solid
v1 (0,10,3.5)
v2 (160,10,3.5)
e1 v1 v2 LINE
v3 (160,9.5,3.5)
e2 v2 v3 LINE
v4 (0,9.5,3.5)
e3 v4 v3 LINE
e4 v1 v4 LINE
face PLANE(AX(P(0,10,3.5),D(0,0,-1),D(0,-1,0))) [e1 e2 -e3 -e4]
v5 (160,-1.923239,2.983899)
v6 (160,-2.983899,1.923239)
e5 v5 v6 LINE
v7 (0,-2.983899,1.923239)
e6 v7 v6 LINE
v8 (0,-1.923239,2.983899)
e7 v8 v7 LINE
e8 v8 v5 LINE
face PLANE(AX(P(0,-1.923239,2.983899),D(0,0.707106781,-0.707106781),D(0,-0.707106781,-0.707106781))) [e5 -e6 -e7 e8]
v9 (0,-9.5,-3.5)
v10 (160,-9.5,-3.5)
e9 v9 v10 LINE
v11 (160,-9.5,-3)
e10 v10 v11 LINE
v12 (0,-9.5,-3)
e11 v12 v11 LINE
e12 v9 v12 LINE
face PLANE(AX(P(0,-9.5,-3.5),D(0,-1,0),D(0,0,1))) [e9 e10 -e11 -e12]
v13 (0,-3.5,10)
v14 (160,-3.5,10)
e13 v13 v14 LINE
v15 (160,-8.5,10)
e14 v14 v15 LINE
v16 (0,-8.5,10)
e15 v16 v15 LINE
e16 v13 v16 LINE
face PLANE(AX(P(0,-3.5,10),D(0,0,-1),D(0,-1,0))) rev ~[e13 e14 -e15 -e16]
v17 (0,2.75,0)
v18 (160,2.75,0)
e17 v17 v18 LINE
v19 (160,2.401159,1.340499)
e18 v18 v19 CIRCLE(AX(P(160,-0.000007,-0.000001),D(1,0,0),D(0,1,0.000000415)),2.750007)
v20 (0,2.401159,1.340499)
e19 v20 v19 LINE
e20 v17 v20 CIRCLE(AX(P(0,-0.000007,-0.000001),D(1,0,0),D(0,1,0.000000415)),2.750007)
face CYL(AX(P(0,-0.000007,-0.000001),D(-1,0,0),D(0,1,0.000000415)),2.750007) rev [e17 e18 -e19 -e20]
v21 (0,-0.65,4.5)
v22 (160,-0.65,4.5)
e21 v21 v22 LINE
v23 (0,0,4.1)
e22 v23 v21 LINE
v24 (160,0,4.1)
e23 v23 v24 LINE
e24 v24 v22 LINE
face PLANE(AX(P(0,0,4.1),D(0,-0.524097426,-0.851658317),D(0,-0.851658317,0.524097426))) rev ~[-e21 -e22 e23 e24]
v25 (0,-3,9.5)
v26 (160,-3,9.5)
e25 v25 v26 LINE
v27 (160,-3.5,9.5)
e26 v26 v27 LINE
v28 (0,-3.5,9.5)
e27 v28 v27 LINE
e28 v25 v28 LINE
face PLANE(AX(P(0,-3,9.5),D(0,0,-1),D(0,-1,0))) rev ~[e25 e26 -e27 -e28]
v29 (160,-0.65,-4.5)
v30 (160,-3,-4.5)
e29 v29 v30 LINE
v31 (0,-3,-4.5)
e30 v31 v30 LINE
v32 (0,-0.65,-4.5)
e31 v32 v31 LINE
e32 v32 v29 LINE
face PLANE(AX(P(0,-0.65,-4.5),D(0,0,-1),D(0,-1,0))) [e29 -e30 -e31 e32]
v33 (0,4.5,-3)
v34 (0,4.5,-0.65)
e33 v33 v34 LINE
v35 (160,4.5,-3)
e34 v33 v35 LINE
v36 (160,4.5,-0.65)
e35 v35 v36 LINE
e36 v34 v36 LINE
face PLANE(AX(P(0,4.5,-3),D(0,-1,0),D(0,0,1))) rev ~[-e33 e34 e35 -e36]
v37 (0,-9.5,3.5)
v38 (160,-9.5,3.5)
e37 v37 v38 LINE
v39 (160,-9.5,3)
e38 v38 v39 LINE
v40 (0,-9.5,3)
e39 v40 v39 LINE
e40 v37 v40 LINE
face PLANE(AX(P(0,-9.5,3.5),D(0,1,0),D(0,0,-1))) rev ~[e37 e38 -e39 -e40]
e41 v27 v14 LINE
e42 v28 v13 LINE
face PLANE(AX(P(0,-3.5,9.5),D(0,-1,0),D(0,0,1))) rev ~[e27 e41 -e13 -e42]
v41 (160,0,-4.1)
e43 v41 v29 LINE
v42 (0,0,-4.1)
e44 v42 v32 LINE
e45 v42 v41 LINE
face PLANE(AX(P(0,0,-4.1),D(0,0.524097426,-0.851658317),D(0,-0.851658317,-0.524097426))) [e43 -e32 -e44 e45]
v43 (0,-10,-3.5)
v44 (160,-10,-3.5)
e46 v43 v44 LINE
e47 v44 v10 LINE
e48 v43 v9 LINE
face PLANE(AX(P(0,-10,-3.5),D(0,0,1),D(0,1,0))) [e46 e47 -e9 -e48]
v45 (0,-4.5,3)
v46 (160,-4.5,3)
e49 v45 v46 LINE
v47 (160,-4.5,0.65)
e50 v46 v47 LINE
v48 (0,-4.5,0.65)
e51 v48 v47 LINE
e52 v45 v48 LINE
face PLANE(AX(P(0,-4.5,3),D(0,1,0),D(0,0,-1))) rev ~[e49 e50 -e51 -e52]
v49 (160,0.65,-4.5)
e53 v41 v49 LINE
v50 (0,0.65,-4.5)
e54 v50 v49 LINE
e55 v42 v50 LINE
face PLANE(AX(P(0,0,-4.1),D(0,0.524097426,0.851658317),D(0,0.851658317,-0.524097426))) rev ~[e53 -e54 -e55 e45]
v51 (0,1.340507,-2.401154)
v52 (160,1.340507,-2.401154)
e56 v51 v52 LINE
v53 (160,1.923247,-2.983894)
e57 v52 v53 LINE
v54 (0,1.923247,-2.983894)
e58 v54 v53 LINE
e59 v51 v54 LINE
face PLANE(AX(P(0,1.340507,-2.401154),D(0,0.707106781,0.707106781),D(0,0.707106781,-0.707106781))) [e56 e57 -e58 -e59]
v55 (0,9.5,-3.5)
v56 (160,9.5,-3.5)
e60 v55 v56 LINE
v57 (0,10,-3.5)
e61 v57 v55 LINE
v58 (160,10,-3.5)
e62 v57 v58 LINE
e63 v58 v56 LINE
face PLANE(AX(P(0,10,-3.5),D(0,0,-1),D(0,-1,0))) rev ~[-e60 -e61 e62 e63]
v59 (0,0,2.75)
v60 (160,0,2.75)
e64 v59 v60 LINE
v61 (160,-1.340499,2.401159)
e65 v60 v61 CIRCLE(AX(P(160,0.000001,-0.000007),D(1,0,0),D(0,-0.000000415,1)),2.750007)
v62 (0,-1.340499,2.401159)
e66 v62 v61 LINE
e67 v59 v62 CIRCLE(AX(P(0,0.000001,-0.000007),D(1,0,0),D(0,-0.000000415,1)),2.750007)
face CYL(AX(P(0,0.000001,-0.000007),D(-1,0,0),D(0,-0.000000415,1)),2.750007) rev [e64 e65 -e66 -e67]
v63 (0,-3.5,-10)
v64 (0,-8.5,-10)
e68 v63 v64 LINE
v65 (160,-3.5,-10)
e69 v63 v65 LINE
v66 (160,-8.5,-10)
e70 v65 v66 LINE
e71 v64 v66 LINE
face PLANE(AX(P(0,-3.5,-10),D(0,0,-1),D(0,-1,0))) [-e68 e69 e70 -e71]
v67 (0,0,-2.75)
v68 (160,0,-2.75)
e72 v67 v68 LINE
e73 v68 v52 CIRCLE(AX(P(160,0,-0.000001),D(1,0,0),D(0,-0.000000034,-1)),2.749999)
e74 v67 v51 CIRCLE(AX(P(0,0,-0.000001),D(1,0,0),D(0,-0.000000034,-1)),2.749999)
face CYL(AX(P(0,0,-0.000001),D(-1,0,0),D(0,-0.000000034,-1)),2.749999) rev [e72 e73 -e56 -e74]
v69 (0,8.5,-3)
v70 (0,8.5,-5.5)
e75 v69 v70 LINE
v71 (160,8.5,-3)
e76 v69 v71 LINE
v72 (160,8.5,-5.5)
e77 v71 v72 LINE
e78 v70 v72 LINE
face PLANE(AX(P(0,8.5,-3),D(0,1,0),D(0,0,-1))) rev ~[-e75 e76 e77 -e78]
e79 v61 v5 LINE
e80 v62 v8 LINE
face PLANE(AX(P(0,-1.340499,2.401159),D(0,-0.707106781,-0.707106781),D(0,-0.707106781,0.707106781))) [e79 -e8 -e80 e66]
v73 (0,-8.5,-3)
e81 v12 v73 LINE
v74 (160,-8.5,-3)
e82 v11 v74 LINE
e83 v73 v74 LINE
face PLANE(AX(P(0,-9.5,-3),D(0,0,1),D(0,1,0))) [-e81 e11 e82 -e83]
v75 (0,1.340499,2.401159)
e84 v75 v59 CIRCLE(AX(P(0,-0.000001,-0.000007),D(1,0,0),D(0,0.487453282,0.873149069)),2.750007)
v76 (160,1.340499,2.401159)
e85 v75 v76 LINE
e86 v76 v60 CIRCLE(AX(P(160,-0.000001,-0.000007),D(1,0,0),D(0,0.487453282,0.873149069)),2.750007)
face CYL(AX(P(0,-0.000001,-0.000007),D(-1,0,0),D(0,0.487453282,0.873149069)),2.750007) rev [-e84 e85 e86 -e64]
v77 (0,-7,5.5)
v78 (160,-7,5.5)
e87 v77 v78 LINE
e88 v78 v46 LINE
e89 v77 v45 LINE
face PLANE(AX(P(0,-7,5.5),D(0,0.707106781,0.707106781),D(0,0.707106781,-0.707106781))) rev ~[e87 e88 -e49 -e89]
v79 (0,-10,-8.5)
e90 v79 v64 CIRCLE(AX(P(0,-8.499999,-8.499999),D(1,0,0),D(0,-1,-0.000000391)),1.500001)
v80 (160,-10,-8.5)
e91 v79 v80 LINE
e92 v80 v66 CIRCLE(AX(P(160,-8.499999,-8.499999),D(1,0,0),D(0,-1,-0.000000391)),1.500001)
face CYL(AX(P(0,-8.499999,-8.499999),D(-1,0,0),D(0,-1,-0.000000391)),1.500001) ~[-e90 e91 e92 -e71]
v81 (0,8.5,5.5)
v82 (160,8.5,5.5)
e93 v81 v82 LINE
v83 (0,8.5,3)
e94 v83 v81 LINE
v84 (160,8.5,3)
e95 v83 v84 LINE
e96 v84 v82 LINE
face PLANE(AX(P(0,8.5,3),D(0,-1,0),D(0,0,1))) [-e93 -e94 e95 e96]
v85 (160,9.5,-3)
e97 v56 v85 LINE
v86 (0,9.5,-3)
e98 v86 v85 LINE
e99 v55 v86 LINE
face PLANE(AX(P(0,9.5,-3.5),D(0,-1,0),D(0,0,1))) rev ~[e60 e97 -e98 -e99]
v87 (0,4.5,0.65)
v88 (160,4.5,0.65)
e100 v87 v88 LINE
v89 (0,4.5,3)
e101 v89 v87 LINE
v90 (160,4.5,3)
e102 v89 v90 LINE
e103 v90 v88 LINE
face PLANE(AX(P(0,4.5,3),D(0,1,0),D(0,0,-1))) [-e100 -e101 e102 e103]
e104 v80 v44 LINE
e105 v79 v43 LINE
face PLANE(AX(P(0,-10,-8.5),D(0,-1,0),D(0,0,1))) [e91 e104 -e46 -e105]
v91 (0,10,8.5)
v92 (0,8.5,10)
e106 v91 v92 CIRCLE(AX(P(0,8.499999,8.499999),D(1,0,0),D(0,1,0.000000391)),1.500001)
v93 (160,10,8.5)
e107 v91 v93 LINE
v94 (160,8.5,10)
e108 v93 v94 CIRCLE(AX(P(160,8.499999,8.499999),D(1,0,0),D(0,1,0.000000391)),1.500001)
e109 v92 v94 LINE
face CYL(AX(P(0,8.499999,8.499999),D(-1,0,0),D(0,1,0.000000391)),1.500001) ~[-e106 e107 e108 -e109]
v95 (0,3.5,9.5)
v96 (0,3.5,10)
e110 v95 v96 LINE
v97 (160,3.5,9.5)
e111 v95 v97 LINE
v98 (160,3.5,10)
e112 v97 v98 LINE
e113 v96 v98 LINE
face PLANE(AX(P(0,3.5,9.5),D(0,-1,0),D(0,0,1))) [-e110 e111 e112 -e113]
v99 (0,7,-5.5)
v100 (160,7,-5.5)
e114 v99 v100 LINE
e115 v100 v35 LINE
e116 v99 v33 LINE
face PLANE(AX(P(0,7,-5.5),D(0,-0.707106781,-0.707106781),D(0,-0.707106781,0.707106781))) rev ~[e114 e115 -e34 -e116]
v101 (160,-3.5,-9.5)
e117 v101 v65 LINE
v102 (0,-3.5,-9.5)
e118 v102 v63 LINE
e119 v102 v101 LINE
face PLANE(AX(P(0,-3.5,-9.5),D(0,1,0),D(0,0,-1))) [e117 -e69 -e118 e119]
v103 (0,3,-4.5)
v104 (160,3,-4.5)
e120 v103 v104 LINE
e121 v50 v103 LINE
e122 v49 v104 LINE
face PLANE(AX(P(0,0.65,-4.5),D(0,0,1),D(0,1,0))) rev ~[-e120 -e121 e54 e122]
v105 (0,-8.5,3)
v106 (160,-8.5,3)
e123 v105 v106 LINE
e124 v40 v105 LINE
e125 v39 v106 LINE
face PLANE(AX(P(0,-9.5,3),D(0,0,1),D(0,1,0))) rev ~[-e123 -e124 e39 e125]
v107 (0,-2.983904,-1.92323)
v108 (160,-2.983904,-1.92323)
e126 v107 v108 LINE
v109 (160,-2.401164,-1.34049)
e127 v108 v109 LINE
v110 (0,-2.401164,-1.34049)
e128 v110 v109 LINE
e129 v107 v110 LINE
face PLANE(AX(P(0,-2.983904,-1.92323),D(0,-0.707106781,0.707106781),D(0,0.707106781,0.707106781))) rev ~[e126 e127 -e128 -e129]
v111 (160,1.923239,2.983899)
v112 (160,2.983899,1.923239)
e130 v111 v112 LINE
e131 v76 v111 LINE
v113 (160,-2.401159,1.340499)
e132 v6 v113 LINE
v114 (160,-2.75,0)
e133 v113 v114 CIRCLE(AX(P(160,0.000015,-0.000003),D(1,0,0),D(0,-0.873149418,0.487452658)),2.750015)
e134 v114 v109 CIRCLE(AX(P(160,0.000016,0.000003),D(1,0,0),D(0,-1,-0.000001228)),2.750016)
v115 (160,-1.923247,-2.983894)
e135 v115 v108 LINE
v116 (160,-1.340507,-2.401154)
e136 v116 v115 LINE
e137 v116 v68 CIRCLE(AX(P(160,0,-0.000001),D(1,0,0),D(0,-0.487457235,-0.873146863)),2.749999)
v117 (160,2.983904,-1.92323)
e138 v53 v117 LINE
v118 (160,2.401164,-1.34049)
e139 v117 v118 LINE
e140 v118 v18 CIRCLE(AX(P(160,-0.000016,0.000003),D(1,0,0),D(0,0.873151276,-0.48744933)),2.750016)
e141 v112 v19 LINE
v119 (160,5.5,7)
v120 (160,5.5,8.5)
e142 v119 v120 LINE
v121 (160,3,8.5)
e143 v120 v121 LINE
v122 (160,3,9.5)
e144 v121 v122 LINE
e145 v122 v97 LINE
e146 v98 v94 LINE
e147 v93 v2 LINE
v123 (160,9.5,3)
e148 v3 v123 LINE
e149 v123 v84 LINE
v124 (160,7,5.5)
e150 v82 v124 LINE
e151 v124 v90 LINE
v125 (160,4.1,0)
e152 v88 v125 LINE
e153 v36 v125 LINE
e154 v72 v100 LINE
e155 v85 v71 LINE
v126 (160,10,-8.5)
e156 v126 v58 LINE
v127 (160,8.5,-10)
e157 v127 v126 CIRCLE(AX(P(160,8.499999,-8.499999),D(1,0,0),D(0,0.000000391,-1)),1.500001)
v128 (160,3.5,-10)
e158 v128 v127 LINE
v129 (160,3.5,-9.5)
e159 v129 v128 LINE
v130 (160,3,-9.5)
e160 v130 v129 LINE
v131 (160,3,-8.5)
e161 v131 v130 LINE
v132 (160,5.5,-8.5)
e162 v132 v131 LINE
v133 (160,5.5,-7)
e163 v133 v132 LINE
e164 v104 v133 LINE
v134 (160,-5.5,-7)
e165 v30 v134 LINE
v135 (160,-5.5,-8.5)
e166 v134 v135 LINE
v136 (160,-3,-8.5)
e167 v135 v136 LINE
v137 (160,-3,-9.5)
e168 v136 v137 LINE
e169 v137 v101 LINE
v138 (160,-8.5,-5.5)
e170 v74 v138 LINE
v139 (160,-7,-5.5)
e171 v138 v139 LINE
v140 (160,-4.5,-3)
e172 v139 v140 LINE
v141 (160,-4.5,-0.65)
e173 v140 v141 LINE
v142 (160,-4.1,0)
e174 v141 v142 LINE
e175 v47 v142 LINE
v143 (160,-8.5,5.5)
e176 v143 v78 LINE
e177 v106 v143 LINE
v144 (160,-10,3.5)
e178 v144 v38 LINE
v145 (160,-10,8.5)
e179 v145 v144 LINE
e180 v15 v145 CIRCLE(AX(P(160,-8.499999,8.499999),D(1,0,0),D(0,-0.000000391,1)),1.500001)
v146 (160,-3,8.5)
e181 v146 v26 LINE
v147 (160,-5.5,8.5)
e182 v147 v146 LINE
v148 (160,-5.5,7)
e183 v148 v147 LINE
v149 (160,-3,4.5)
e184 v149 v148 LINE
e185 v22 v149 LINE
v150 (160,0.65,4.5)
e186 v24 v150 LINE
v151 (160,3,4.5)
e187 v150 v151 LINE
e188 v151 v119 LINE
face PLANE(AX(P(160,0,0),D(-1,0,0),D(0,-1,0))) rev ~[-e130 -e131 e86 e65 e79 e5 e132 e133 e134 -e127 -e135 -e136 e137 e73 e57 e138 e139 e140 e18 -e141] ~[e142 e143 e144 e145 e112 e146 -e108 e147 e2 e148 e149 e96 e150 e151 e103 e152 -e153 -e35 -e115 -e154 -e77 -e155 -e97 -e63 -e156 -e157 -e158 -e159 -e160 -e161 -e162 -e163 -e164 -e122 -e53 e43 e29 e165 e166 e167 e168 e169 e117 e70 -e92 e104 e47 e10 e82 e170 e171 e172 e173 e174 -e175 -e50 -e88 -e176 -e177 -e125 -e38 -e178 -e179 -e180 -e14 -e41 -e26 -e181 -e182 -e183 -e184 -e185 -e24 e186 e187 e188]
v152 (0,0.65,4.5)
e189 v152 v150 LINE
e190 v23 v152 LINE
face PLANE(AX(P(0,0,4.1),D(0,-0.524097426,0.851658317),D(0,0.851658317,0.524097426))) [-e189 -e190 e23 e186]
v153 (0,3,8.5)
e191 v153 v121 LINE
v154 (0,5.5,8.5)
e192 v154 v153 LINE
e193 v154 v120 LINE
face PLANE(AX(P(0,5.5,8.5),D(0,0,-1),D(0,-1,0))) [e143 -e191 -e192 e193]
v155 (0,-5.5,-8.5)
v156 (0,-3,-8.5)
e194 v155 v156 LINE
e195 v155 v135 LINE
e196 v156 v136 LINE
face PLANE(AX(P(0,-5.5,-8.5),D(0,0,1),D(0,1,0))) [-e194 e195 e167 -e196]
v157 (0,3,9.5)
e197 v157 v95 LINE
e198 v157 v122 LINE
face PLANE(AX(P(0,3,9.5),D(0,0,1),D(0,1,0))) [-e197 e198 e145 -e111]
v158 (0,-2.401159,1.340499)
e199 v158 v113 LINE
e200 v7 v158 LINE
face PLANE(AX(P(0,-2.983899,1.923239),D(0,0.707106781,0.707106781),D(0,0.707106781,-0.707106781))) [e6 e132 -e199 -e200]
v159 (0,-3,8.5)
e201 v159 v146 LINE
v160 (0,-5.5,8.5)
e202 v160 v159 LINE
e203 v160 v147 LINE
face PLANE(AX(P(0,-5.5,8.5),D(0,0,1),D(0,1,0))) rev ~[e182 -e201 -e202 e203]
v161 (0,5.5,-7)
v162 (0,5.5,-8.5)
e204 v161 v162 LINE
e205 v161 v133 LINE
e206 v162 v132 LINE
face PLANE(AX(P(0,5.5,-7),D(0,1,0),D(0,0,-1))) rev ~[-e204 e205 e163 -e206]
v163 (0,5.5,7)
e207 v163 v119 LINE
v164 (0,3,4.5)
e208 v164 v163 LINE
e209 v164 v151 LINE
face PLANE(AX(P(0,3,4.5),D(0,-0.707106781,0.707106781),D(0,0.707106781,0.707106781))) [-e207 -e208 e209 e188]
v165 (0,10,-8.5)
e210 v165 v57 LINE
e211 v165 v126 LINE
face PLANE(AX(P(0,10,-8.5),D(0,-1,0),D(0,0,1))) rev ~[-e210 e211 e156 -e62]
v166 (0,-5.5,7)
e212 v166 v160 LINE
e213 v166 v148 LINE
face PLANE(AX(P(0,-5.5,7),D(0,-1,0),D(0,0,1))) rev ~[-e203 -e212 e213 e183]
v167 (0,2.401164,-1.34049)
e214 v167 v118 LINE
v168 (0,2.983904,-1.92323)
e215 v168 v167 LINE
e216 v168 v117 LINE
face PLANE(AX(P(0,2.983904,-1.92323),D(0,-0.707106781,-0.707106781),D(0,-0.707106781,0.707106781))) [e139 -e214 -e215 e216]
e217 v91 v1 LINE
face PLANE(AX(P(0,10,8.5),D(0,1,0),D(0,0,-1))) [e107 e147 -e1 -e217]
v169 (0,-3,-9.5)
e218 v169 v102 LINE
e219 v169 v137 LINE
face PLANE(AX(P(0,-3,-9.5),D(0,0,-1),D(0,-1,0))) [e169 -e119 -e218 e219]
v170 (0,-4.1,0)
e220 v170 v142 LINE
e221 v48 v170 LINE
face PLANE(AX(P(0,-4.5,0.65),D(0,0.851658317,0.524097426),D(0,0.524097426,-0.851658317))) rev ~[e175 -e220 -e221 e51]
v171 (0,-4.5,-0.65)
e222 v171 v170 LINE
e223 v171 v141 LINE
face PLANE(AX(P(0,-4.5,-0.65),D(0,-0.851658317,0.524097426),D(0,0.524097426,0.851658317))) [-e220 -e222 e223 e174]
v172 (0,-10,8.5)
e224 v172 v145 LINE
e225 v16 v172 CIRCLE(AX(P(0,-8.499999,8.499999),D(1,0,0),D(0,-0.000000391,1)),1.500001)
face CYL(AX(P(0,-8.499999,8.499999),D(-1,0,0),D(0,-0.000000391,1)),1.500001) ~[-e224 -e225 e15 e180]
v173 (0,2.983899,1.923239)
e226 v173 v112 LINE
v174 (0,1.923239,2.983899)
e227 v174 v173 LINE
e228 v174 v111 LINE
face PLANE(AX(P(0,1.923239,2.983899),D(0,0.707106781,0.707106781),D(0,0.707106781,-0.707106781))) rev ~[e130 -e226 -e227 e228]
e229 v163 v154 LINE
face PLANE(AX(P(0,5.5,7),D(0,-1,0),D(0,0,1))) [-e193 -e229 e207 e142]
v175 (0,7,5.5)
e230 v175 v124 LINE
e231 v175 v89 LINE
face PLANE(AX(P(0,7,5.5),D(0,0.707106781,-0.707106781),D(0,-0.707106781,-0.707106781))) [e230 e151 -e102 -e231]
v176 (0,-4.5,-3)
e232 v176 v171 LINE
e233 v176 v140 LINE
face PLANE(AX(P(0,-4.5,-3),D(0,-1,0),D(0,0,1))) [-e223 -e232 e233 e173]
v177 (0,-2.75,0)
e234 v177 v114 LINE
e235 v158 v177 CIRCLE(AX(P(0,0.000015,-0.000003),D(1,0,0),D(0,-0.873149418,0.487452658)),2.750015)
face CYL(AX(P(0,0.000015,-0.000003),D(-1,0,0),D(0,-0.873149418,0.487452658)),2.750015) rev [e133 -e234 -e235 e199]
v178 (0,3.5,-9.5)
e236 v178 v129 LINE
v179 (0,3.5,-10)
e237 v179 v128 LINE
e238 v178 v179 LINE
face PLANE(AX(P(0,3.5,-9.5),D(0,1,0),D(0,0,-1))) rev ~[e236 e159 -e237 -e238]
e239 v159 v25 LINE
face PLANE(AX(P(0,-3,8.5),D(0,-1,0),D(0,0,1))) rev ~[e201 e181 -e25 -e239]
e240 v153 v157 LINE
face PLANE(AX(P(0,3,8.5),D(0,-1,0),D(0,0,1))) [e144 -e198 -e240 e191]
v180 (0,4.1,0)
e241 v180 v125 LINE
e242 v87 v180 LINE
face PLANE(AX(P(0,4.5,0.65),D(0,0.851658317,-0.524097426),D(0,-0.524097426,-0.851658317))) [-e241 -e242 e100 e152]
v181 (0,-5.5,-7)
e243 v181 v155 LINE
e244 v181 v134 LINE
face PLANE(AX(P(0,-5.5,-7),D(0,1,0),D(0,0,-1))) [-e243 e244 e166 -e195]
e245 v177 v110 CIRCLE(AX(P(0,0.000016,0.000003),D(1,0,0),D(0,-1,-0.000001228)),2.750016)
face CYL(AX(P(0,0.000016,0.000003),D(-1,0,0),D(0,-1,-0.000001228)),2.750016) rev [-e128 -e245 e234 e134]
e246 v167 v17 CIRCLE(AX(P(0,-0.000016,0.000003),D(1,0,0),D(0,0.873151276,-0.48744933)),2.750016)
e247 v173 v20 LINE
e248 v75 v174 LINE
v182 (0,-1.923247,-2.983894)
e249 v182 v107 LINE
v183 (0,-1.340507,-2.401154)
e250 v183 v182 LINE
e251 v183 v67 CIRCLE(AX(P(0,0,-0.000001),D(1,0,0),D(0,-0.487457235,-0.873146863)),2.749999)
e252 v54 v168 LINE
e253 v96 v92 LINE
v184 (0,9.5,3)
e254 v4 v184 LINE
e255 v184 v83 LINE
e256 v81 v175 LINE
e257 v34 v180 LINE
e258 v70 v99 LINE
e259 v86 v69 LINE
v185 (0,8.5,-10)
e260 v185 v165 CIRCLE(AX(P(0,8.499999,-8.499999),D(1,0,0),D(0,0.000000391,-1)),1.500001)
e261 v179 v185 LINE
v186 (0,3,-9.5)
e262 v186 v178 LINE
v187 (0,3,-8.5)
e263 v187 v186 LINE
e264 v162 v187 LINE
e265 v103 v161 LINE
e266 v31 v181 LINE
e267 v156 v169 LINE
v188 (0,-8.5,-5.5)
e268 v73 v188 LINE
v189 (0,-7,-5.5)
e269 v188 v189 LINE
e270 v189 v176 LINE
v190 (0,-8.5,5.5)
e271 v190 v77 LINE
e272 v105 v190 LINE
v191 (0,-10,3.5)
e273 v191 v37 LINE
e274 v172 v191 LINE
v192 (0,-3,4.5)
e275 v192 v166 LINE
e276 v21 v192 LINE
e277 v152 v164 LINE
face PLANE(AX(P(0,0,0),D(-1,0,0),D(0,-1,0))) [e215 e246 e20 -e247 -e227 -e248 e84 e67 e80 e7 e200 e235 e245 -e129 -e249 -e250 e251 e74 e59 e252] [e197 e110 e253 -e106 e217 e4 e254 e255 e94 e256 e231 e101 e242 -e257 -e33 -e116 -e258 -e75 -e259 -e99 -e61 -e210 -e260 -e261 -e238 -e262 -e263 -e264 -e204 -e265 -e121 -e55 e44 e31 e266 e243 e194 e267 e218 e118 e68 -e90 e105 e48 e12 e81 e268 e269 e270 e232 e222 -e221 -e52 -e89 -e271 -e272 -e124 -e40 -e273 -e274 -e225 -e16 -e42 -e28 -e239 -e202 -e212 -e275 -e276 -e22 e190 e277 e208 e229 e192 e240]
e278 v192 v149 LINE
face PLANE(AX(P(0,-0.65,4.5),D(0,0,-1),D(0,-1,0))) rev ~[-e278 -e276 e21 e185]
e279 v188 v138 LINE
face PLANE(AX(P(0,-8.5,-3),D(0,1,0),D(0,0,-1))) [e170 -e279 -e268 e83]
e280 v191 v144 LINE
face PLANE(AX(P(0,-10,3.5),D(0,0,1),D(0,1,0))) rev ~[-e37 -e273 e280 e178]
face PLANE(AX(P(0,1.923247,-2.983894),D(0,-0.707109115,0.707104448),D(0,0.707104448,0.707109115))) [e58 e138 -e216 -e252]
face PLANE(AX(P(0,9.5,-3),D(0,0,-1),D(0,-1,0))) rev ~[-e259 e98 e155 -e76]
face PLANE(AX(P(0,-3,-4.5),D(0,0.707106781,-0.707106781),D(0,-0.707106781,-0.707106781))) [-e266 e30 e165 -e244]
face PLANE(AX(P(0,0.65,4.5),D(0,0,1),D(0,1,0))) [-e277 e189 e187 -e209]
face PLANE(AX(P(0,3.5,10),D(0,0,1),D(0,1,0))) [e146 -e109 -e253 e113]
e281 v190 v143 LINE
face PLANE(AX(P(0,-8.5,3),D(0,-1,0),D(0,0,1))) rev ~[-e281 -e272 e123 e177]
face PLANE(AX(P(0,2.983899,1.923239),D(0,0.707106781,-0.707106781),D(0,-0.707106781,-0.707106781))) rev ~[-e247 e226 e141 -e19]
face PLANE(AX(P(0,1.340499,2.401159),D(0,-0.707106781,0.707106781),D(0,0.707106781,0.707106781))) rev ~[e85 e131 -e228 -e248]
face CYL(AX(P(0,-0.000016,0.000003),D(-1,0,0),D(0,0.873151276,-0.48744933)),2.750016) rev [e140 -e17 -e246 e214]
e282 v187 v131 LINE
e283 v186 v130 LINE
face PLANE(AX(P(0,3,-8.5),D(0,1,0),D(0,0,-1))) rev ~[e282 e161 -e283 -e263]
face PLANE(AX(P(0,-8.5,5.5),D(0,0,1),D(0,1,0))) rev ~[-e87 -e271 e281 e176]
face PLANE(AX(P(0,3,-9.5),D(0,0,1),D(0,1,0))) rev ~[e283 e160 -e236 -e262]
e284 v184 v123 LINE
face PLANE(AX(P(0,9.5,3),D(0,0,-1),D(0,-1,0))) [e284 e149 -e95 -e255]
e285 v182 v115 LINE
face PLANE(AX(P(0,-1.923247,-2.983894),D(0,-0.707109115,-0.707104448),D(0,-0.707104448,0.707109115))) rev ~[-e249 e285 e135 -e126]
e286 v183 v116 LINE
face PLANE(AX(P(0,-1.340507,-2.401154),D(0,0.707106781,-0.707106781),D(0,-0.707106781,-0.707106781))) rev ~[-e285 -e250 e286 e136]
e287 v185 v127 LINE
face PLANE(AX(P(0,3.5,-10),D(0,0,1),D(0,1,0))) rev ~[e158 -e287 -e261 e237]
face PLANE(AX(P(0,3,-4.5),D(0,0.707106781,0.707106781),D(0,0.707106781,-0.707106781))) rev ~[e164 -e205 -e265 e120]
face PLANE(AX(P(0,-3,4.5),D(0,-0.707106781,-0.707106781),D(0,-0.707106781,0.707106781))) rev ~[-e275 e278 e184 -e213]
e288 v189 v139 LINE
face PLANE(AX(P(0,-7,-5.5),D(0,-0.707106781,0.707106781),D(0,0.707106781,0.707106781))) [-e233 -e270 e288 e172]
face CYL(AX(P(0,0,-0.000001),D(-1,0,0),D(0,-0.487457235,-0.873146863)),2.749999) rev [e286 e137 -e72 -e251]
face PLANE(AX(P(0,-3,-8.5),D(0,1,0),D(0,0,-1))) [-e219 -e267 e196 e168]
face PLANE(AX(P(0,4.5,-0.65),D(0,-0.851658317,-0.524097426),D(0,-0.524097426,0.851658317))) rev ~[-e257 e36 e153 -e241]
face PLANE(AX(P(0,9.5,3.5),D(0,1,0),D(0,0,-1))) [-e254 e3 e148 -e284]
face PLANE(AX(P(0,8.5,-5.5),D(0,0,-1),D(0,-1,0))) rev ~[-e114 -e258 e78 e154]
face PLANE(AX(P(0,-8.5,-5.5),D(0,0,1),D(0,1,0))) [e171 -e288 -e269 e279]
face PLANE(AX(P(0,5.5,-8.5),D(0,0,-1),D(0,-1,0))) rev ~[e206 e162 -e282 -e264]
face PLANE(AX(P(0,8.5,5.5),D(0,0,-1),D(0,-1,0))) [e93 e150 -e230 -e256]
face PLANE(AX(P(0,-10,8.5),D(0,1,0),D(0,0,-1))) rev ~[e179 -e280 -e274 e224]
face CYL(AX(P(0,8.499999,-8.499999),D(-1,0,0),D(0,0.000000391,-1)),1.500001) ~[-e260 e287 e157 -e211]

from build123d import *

# Parameters (mm, degrees)
PAD_DEPTH = 160


with BuildPart() as part:
    # Sketch → Pad (new body)
    with BuildSketch(Plane.YZ):
        with BuildLine():
            Line((0, 4.1), (0.65, 4.5))
            Line((0.65, 4.5), (3, 4.5))
            Line((3, 4.5), (5.5, 7))
            Line((5.5, 7), (5.5, 8.5))
            Line((5.5, 8.5), (3, 8.5))
            Line((3, 8.5), (3, 9.5))
            Line((3, 9.5), (3.5, 9.5))
            Line((3.5, 9.5), (3.5, 10))
            Line((3.5, 10), (8.5, 10))
            ThreePointArc((10, 8.5), (9.56066, 9.56066), (8.5, 10))
            Line((10, 8.5), (10, 3.5))
            Line((10, 3.5), (9.5, 3.5))
            Line((9.5, 3.5), (9.5, 3))
            Line((9.5, 3), (8.5, 3))
            Line((8.5, 3), (8.5, 5.5))
            Line((8.5, 5.5), (7, 5.5))
            Line((7, 5.5), (4.5, 3))
            Line((4.5, 3), (4.5, 0.65))
            Line((4.5, 0.65), (4.1, 0))
            Line((4.5, -0.65), (4.1, 0))
            Line((4.5, -3), (4.5, -0.65))
            Line((7, -5.5), (4.5, -3))
            Line((8.5, -5.5), (7, -5.5))
            Line((8.5, -3), (8.5, -5.5))
            Line((9.5, -3), (8.5, -3))
            Line((9.5, -3.5), (9.5, -3))
            Line((10, -3.5), (9.5, -3.5))
            Line((10, -8.5), (10, -3.5))
            ThreePointArc((8.5, -10), (9.56066, -9.56066), (10, -8.5))
            Line((3.5, -10), (8.5, -10))
            Line((3.5, -9.5), (3.5, -10))
            Line((3, -9.5), (3.5, -9.5))
            Line((3, -8.5), (3, -9.5))
            Line((5.5, -8.5), (3, -8.5))
            Line((5.5, -7), (5.5, -8.5))
            Line((3, -4.5), (5.5, -7))
            Line((0.65, -4.5), (3, -4.5))
            Line((0, -4.1), (0.65, -4.5))
            Line((0, -4.1), (-0.65, -4.5))
            Line((-0.65, -4.5), (-3, -4.5))
            Line((-3, -4.5), (-5.5, -7))
            Line((-5.5, -7), (-5.5, -8.5))
            Line((-5.5, -8.5), (-3, -8.5))
            Line((-3, -8.5), (-3, -9.5))
            Line((-3, -9.5), (-3.5, -9.5))
            Line((-3.5, -9.5), (-3.5, -10))
            Line((-3.5, -10), (-8.5, -10))
            ThreePointArc((-10, -8.5), (-9.56066, -9.56066), (-8.5, -10))
            Line((-10, -8.5), (-10, -3.5))
            Line((-10, -3.5), (-9.5, -3.5))
            Line((-9.5, -3.5), (-9.5, -3))
            Line((-9.5, -3), (-8.5, -3))
            Line((-8.5, -3), (-8.5, -5.5))
            Line((-8.5, -5.5), (-7, -5.5))
            Line((-7, -5.5), (-4.5, -3))
            Line((-4.5, -3), (-4.5, -0.65))
            Line((-4.5, -0.65), (-4.1, 0))
            Line((-4.5, 0.65), (-4.1, 0))
            Line((-4.5, 3), (-4.5, 0.65))
            Line((-7, 5.5), (-4.5, 3))
            Line((-8.5, 5.5), (-7, 5.5))
            Line((-8.5, 3), (-8.5, 5.5))
            Line((-9.5, 3), (-8.5, 3))
            Line((-9.5, 3.5), (-9.5, 3))
            Line((-10, 3.5), (-9.5, 3.5))
            Line((-10, 8.5), (-10, 3.5))
            ThreePointArc((-8.5, 10), (-9.56066, 9.56066), (-10, 8.5))
            Line((-3.5, 10), (-8.5, 10))
            Line((-3.5, 9.5), (-3.5, 10))
            Line((-3, 9.5), (-3.5, 9.5))
            Line((-3, 8.5), (-3, 9.5))
            Line((-5.5, 8.5), (-3, 8.5))
            Line((-5.5, 7), (-5.5, 8.5))
            Line((-3, 4.5), (-5.5, 7))
            Line((-0.65, 4.5), (-3, 4.5))
            Line((0, 4.1), (-0.65, 4.5))
        make_face()
        with BuildLine():
            Line((1.340499, 2.401159), (1.923239, 2.983899))
            Line((1.923239, 2.983899), (2.983899, 1.923239))
            Line((2.983899, 1.923239), (2.401159, 1.340499))
            ThreePointArc((2.75, 0), (2.661361, 0.692573), (2.401159, 1.340499))
            ThreePointArc((2.401164, -1.34049), (2.661362, -0.692568), (2.75, 0))
            Line((2.983904, -1.92323), (2.401164, -1.34049))
            Line((1.923247, -2.983894), (2.983904, -1.92323))
            Line((1.340507, -2.401154), (1.923247, -2.983894))
            ThreePointArc((0, -2.75), (0.692577, -2.66136), (1.340507, -2.401154))
            ThreePointArc((-1.340507, -2.401154), (-0.692577, -2.66136), (0, -2.75))
            Line((-1.340507, -2.401154), (-1.923247, -2.983894))
            Line((-1.923247, -2.983894), (-2.983904, -1.92323))
            Line((-2.983904, -1.92323), (-2.401164, -1.34049))
            ThreePointArc((-2.75, 0), (-2.661362, -0.692568), (-2.401164, -1.34049))
            ThreePointArc((-2.401159, 1.340499), (-2.661361, 0.692572), (-2.75, 0))
            Line((-2.983899, 1.923239), (-2.401159, 1.340499))
            Line((-1.923239, 2.983899), (-2.983899, 1.923239))
            Line((-1.340499, 2.401159), (-1.923239, 2.983899))
            ThreePointArc((0, 2.75), (-0.692573, 2.661361), (-1.340499, 2.401159))
            ThreePointArc((1.340499, 2.401159), (0.692573, 2.661361), (0, 2.75))
        make_face(mode=Mode.SUBTRACT)
    extrude(amount=PAD_DEPTH)


solid = part.part
